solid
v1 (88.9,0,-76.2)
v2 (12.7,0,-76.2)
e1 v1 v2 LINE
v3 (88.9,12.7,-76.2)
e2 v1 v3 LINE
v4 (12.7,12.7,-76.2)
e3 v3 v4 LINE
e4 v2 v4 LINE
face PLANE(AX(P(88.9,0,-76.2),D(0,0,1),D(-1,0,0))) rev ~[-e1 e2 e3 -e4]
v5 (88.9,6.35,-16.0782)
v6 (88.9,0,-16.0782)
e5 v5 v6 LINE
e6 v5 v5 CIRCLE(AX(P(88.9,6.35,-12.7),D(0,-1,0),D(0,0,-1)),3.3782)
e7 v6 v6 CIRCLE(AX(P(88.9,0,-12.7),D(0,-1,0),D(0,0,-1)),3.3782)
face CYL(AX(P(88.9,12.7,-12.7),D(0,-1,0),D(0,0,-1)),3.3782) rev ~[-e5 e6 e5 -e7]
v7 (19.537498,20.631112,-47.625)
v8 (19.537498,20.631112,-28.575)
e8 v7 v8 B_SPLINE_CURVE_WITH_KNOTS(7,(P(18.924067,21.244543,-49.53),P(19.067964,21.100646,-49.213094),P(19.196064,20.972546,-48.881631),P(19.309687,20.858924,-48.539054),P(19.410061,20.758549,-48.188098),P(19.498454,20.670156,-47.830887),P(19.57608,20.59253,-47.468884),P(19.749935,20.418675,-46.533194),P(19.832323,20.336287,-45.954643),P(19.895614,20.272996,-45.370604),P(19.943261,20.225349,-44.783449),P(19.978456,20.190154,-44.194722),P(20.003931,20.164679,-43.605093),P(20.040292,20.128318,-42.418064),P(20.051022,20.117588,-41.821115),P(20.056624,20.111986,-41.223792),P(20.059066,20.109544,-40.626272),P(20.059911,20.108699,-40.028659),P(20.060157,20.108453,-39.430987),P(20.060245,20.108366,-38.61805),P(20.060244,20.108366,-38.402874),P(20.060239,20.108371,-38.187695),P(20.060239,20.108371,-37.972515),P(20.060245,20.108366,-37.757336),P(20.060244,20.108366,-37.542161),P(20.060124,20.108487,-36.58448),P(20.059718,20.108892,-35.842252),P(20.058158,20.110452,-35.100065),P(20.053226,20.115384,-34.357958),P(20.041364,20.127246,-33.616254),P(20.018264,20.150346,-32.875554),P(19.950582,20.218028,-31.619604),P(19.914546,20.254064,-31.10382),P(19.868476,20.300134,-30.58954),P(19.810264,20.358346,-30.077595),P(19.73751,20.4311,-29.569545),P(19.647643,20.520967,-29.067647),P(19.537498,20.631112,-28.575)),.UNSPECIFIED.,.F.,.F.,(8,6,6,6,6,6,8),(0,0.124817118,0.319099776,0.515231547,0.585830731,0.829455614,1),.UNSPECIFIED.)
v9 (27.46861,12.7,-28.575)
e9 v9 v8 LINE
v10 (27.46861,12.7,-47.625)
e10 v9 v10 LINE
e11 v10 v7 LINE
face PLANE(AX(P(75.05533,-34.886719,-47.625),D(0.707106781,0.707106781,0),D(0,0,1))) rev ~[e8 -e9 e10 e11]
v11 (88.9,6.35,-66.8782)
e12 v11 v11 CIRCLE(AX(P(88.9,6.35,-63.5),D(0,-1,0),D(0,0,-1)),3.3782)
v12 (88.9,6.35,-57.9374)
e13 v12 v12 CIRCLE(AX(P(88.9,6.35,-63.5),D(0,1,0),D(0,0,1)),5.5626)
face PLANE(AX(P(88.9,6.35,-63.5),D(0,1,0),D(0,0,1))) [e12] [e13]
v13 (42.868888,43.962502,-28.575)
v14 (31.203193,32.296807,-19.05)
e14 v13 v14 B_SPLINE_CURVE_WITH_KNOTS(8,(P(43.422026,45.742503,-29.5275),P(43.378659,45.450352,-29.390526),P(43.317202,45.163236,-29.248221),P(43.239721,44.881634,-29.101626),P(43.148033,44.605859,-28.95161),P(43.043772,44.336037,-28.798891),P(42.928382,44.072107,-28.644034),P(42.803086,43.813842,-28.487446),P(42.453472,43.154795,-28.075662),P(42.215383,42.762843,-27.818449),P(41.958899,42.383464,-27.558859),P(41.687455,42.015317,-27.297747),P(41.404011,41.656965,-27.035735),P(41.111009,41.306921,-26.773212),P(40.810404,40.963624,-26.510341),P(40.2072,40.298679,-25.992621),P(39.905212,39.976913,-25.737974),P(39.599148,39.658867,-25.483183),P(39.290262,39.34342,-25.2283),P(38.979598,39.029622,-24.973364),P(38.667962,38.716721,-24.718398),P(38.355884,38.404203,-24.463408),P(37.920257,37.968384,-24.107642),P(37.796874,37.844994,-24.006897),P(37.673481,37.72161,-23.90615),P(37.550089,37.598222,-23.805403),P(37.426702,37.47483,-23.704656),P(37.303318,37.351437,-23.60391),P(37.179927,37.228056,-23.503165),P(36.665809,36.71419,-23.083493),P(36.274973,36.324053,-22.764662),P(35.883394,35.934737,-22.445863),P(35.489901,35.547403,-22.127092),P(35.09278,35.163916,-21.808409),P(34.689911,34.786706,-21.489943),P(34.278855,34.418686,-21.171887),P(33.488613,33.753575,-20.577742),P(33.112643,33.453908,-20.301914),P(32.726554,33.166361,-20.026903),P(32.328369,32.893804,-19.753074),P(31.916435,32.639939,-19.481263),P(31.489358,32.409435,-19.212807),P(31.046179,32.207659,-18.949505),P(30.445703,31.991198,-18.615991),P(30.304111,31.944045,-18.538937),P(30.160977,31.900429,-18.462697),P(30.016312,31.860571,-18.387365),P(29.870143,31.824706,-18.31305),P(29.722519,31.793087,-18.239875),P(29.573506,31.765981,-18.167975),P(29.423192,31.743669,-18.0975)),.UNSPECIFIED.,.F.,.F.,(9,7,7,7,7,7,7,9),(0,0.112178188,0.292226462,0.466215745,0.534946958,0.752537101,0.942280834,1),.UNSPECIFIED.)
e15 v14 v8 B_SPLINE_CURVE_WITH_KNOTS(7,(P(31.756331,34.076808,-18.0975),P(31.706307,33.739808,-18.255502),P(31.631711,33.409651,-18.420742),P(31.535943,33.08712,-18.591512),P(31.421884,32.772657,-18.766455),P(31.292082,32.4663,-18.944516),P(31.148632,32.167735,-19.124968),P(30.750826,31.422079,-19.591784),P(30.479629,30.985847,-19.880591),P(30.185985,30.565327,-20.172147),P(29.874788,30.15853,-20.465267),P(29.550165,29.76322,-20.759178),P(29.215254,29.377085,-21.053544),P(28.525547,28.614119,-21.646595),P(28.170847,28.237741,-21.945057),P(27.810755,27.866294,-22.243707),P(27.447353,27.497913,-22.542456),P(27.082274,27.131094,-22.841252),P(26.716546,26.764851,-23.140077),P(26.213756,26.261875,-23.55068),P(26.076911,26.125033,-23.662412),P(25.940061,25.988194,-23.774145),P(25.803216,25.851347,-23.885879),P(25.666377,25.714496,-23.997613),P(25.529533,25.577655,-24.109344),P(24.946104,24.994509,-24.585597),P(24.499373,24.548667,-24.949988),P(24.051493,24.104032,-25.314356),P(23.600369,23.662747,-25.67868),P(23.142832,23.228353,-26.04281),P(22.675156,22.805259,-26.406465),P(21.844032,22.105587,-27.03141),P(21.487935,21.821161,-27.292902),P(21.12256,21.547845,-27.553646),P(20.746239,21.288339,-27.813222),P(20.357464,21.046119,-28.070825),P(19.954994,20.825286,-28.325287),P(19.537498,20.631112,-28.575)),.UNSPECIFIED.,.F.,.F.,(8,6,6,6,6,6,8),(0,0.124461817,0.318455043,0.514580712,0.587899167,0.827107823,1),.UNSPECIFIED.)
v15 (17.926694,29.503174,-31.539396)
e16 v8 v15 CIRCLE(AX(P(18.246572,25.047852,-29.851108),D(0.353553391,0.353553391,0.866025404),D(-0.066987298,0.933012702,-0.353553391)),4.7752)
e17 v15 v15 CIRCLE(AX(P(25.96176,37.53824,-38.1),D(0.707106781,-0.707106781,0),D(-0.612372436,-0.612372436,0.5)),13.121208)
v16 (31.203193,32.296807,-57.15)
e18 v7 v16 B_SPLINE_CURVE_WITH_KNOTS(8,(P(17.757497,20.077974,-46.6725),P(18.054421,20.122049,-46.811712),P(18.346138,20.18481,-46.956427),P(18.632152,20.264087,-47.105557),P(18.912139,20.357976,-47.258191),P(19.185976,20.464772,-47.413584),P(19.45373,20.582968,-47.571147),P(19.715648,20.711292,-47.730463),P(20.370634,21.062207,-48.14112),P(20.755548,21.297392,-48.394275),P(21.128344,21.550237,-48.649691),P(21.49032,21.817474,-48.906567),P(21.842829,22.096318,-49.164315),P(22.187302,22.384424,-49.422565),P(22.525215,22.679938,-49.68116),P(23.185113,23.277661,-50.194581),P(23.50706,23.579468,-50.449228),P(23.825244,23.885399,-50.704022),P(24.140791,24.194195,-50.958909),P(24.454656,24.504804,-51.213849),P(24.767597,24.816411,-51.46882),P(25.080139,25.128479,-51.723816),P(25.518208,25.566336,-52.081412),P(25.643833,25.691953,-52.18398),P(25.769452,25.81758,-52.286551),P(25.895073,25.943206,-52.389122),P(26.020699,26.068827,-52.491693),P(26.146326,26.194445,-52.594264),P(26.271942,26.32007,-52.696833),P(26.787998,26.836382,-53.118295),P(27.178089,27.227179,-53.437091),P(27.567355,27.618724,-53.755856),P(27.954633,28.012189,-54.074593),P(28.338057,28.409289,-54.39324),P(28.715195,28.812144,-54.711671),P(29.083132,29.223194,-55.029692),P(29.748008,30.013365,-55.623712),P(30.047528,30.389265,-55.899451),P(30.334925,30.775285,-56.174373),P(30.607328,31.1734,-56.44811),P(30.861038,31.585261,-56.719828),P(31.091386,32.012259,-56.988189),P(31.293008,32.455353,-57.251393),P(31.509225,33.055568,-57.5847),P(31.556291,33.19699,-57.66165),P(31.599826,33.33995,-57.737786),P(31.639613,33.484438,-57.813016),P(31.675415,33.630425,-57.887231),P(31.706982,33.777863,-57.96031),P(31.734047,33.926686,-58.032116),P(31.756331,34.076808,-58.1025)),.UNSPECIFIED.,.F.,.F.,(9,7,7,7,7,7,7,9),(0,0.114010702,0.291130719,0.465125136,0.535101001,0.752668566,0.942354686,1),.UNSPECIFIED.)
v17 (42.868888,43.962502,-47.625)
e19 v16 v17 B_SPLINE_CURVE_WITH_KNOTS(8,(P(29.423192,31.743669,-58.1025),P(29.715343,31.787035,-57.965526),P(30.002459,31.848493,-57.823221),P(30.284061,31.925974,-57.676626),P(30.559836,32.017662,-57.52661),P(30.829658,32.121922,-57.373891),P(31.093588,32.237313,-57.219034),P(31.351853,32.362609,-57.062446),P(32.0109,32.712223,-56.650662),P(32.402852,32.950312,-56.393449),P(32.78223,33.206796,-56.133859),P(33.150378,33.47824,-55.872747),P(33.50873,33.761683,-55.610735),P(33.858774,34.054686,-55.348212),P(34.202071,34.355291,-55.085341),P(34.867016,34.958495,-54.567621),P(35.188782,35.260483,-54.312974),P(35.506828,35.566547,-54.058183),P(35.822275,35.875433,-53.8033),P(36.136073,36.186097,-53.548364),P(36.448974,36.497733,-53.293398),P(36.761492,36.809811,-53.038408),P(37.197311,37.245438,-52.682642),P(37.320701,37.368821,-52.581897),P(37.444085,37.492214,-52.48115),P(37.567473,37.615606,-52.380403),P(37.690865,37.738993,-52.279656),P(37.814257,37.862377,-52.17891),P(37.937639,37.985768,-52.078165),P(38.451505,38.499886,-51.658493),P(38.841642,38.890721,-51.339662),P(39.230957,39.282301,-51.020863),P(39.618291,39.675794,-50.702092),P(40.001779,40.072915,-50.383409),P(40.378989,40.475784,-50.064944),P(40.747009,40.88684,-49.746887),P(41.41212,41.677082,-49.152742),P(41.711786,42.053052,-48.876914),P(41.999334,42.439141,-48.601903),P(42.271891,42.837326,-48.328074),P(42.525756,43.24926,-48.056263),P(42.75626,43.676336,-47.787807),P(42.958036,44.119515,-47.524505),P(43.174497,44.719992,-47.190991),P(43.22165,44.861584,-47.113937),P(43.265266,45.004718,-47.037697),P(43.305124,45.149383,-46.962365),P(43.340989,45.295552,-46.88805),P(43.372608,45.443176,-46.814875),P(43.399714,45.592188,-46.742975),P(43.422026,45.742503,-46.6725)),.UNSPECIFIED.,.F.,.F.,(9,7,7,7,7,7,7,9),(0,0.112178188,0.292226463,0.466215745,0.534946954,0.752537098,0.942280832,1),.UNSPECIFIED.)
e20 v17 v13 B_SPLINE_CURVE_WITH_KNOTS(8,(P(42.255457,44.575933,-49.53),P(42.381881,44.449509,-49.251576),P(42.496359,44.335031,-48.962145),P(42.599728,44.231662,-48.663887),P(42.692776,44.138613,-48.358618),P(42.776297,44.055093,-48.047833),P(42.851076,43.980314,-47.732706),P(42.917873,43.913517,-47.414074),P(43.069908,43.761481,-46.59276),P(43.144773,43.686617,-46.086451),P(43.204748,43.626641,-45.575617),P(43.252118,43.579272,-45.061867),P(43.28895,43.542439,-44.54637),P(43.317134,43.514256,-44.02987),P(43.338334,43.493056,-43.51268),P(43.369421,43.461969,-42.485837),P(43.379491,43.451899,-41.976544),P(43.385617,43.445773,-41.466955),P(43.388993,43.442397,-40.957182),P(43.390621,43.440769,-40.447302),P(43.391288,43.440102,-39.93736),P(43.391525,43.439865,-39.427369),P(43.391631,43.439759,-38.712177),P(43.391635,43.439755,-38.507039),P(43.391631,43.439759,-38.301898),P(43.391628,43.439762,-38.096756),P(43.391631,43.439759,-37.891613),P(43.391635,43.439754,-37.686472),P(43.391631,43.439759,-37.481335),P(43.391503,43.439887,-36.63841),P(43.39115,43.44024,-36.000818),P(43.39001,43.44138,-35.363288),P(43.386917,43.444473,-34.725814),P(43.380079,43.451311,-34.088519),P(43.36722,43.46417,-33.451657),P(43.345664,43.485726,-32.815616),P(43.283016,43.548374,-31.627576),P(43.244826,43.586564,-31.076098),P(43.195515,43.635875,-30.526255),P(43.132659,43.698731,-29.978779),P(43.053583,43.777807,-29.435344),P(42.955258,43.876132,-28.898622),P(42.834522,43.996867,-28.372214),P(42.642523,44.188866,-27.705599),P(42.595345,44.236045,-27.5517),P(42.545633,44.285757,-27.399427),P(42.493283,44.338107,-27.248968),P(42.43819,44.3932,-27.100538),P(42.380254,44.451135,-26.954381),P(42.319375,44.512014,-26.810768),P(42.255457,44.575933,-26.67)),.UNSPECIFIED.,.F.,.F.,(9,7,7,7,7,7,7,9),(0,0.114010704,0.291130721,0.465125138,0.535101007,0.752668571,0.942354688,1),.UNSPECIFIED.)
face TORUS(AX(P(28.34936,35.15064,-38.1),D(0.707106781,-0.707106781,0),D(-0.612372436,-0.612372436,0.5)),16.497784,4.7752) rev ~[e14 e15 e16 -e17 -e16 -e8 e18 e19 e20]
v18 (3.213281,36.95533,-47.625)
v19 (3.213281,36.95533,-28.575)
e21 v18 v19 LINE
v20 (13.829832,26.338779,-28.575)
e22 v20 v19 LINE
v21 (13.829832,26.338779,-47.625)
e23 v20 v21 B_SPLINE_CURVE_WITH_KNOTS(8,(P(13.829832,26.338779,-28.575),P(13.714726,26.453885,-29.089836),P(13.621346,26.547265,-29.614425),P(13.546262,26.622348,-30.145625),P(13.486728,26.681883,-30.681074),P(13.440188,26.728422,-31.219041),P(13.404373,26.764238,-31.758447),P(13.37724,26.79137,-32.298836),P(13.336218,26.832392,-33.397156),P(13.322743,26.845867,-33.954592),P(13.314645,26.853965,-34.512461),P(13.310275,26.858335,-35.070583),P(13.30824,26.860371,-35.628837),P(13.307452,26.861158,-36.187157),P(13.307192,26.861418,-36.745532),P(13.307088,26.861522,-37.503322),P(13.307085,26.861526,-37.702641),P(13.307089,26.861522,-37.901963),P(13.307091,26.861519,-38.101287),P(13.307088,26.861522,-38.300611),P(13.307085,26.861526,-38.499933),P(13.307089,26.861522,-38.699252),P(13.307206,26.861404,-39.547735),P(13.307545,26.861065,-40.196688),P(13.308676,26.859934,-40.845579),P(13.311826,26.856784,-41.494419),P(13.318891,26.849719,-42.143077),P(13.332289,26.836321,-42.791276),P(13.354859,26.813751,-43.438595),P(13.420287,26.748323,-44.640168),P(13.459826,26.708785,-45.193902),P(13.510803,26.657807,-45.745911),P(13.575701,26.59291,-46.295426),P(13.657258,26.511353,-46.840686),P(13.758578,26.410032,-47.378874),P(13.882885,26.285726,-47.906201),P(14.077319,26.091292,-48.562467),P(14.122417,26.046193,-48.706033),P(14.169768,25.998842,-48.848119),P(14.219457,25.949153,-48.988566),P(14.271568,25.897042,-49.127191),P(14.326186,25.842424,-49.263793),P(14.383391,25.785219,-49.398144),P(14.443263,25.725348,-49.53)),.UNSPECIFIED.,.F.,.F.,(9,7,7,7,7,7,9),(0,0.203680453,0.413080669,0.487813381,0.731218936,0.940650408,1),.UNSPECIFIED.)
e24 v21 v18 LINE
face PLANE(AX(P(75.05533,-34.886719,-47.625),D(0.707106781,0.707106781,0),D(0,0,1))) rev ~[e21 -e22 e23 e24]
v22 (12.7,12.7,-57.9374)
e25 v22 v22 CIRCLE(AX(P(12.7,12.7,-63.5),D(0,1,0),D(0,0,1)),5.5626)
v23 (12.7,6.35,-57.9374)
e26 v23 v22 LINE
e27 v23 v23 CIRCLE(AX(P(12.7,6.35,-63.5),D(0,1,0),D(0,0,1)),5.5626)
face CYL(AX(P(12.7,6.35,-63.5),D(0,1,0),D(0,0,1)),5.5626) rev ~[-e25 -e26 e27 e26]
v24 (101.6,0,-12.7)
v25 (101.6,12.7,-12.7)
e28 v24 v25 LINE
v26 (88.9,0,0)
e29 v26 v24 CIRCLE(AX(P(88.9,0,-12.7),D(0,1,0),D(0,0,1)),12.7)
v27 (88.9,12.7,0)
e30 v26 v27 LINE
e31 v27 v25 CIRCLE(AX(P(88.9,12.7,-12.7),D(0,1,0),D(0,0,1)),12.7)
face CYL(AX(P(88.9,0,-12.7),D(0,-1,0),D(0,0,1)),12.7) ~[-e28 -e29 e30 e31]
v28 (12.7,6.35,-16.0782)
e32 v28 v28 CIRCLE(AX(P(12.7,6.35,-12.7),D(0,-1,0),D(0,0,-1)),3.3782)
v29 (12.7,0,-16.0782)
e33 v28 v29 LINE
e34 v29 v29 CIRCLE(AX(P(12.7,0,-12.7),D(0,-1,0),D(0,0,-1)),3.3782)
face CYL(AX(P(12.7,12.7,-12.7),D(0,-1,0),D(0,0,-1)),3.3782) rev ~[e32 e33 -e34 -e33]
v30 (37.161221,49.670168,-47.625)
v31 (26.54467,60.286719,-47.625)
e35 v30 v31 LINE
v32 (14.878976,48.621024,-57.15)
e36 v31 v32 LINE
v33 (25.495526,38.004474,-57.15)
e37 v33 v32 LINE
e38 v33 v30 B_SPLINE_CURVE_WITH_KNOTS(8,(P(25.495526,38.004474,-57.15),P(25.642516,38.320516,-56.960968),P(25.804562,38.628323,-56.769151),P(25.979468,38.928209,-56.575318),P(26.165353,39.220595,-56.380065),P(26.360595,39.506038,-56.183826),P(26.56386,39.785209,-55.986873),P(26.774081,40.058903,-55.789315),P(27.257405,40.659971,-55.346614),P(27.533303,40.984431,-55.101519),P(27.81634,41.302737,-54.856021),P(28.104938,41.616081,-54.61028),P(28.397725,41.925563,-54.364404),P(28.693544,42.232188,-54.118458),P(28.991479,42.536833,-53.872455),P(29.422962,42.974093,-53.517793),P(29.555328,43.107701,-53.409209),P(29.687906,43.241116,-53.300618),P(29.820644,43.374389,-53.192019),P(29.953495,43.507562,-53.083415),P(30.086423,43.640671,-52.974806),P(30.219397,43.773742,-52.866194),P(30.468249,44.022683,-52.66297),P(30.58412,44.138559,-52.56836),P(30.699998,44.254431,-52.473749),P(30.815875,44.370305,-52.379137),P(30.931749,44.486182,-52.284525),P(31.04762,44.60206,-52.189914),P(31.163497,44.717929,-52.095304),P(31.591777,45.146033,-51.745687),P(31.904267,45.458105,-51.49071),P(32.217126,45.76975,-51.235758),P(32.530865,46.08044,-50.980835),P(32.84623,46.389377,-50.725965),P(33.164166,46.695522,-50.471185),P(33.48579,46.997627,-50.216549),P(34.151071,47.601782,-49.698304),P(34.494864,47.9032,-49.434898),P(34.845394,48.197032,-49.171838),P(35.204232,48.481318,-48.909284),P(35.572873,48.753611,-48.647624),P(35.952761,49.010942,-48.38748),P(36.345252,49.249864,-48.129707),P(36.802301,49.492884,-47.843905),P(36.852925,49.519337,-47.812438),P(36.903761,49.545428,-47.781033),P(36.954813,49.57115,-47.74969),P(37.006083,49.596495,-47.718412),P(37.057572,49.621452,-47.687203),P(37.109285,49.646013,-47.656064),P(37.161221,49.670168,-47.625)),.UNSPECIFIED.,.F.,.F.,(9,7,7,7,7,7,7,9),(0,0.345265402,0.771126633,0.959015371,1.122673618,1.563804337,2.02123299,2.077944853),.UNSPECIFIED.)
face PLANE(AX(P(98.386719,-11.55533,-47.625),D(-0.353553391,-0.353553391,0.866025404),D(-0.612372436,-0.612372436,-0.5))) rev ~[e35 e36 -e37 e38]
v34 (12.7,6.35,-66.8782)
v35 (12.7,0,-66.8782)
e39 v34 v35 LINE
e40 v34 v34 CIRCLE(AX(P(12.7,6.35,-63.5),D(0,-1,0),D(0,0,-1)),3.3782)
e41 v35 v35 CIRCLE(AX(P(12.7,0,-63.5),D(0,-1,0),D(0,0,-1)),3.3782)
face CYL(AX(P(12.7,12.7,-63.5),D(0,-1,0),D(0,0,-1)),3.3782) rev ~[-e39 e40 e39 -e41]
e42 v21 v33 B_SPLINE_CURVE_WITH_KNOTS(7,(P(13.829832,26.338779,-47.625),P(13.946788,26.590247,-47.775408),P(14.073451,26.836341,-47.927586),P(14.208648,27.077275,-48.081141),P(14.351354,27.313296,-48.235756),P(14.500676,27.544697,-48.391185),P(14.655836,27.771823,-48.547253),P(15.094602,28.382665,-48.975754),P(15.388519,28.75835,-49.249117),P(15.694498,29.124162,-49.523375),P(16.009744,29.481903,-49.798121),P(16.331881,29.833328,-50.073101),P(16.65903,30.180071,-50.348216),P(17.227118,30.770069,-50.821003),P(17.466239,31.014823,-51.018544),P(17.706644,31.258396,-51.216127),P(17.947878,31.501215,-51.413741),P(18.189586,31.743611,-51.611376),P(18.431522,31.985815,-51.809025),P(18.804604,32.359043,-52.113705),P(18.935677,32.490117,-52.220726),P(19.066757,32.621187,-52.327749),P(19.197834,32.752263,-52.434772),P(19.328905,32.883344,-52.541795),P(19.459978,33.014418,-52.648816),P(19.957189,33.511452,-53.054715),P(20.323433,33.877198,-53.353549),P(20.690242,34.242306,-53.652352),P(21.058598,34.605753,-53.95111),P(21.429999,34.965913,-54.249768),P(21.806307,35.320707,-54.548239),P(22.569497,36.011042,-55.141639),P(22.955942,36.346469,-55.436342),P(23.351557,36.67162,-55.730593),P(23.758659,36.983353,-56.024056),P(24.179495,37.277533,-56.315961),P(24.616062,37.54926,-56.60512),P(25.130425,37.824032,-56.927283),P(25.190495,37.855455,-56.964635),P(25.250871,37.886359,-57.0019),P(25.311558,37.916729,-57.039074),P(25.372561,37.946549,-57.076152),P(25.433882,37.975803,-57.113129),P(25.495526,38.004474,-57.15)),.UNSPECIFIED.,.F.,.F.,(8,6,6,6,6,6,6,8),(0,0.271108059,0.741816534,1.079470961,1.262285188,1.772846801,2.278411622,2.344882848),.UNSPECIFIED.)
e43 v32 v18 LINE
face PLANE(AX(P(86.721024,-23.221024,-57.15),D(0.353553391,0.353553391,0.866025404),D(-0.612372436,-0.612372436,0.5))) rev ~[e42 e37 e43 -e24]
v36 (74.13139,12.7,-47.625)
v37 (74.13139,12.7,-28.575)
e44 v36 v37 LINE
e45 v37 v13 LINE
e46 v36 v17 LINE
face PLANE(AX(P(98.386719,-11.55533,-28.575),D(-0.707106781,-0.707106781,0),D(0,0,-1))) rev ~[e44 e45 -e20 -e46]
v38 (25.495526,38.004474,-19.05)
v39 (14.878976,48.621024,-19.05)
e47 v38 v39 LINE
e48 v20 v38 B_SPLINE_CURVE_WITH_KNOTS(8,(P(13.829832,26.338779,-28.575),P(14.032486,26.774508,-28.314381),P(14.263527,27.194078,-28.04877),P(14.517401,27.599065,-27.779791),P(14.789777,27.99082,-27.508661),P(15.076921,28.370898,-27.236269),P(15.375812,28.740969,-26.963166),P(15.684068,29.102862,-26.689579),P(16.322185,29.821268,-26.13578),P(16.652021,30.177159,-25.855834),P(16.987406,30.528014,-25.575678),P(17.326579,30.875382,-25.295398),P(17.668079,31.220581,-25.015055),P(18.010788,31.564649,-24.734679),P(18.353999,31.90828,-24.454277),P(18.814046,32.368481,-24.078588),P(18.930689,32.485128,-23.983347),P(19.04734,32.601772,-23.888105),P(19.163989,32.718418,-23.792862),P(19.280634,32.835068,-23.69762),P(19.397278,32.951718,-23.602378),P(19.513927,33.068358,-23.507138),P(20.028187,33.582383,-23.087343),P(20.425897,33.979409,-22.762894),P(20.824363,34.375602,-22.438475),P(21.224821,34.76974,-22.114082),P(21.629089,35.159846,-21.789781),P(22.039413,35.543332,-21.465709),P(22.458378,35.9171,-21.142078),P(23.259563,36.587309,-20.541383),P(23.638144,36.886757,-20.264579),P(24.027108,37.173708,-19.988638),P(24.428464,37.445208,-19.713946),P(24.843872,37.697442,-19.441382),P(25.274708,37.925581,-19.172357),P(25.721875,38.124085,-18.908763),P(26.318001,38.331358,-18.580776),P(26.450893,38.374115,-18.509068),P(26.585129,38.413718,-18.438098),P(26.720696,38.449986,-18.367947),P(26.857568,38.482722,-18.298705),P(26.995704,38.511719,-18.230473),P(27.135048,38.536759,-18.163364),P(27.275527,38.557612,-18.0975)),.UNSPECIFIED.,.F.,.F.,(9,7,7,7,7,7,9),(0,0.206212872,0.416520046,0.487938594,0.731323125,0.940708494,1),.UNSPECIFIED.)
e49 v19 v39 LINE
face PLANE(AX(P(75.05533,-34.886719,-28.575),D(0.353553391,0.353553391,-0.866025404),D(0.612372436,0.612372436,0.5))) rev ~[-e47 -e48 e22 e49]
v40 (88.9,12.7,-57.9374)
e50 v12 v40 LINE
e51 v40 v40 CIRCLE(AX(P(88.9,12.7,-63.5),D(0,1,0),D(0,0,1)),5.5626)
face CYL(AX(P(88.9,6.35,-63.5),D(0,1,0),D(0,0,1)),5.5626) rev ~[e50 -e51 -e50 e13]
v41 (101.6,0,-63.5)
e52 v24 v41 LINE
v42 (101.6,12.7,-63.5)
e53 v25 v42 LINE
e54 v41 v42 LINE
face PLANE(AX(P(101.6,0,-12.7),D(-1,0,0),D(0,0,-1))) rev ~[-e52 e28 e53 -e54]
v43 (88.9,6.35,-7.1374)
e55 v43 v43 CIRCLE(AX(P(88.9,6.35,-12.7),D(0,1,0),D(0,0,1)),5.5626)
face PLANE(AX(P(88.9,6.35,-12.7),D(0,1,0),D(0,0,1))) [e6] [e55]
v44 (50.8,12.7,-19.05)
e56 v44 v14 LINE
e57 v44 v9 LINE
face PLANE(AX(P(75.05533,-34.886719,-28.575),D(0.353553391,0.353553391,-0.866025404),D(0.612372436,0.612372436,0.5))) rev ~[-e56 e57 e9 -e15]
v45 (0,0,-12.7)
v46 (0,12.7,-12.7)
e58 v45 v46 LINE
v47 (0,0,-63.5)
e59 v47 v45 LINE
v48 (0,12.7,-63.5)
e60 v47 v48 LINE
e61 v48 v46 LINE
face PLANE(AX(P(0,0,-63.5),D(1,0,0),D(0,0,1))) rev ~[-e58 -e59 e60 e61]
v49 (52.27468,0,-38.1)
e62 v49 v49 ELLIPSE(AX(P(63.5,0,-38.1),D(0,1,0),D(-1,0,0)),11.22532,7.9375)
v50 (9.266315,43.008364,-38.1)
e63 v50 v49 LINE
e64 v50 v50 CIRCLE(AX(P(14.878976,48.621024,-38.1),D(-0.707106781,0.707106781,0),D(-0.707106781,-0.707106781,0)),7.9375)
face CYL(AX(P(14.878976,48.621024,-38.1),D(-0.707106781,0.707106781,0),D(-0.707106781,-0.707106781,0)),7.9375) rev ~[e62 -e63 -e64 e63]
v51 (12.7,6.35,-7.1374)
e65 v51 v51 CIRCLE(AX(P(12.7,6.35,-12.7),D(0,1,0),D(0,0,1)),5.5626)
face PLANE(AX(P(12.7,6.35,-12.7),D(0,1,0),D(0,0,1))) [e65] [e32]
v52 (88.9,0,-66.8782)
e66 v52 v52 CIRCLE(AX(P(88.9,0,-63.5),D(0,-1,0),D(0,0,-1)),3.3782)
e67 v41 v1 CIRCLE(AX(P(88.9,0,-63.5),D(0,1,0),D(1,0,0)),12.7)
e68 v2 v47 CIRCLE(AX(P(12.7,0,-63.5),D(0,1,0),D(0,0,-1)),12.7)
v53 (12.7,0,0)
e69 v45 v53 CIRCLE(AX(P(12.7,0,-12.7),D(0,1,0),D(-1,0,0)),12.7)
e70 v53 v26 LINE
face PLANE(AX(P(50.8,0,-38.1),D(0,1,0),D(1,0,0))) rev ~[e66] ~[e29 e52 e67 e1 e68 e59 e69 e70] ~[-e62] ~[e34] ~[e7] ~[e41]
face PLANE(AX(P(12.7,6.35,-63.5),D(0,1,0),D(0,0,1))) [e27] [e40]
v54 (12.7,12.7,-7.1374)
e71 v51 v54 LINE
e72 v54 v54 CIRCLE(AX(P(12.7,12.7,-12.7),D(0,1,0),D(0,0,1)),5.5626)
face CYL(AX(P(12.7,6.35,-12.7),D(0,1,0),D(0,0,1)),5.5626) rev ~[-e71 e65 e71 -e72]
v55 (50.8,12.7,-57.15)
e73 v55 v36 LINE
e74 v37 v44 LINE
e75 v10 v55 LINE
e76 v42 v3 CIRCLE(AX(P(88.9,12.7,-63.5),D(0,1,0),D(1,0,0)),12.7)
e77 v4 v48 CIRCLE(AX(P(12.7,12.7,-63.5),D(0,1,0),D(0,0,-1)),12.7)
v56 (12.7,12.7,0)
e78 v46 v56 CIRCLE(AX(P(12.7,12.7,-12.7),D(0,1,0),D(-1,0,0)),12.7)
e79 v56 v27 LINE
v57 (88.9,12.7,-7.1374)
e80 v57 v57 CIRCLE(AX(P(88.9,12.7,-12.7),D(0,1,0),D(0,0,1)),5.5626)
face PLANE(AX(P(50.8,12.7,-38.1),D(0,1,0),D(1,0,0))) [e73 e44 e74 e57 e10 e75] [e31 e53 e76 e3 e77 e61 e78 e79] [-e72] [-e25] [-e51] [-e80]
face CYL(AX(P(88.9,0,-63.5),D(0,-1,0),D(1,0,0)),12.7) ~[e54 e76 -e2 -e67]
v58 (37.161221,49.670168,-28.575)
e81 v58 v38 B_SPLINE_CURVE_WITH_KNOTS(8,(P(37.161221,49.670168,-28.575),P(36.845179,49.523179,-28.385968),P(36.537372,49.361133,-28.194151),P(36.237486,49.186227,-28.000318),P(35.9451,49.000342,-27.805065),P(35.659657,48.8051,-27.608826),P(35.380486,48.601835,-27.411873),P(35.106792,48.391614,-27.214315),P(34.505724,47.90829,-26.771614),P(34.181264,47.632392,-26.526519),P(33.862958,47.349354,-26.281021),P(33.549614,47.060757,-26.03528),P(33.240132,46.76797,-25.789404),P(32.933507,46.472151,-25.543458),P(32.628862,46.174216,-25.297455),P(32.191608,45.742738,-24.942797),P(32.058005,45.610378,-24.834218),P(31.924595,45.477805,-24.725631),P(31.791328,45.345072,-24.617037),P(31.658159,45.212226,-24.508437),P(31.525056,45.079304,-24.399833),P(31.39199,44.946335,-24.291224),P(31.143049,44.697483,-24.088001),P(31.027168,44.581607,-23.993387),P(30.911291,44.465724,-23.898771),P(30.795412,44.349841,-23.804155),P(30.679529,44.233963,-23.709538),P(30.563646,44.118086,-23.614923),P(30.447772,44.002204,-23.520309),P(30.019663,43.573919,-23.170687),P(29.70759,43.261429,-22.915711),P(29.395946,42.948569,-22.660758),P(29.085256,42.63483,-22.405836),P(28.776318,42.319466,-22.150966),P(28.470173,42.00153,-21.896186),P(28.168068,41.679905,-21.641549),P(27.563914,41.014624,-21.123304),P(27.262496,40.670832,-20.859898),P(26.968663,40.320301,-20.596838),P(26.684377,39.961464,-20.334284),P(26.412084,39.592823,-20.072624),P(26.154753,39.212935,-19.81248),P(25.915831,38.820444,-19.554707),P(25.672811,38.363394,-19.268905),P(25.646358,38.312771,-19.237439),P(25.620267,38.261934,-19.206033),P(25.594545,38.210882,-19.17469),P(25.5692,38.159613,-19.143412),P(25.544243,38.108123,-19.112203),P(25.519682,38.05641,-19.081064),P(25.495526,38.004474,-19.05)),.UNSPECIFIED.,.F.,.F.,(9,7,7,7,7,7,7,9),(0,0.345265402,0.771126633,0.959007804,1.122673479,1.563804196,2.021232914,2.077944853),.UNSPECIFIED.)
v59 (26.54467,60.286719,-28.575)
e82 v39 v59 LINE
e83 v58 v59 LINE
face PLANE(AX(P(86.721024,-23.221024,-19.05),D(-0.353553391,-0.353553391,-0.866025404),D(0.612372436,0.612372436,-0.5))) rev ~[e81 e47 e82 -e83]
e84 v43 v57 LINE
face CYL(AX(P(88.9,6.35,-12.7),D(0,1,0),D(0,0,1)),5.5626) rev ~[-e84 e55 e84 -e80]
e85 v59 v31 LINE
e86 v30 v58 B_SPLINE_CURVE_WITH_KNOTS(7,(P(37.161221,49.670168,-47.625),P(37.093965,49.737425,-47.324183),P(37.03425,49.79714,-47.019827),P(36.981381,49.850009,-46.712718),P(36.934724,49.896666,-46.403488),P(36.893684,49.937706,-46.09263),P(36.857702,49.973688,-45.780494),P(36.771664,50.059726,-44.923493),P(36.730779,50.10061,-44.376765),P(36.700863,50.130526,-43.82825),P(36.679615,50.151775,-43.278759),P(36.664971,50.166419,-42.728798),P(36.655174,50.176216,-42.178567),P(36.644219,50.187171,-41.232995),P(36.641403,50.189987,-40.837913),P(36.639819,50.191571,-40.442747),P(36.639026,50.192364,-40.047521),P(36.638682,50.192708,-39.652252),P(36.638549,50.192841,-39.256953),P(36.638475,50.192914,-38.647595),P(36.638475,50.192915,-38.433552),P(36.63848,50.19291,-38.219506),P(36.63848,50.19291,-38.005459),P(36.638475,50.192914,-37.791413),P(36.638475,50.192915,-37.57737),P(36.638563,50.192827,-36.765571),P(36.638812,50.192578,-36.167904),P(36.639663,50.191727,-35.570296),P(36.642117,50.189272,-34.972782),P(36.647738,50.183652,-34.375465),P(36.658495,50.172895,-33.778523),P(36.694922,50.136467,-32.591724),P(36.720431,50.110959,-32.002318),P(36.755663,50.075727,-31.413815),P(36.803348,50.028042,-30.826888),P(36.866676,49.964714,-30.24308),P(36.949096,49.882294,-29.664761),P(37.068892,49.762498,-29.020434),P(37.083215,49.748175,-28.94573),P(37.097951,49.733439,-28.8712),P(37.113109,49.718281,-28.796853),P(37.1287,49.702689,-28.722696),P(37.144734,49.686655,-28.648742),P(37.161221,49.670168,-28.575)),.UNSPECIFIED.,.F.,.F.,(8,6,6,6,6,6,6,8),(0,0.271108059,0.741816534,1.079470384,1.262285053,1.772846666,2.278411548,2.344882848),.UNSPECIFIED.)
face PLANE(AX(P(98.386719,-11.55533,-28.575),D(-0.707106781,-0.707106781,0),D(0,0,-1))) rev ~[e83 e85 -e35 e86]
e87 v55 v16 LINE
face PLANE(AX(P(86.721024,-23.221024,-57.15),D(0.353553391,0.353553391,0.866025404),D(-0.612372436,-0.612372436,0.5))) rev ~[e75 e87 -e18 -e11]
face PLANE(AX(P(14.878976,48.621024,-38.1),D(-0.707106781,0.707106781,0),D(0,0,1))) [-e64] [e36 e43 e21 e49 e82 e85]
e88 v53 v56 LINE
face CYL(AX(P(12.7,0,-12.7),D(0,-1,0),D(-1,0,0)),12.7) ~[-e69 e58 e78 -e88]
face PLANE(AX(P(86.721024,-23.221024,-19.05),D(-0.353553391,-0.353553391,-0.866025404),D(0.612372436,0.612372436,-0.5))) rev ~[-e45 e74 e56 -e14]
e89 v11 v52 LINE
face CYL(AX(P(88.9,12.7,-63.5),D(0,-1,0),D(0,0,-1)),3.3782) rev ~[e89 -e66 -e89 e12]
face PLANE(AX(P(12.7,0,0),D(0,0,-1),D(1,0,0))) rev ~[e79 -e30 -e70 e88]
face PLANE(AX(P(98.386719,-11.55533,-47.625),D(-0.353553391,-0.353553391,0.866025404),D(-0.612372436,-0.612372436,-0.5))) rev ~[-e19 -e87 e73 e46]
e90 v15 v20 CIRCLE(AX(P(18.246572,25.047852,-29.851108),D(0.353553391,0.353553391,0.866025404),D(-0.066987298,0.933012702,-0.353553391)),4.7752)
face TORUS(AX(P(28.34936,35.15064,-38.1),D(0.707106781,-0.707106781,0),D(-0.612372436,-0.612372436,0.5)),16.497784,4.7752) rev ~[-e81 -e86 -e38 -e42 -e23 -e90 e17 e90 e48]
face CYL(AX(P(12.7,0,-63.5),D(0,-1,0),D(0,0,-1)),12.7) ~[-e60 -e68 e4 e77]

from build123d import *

# Parameters (mm, degrees)
BOSS_EXTRUDE1_DEPTH                                 = 12.7
CBORE_FOR_00_BINDING_HEAD_MACHINE_SCREW_D           = 6.7564
CBORE_FOR_00_BINDING_HEAD_MACHINE_SCREW_CBORE_D     = 11.1252
CBORE_FOR_00_BINDING_HEAD_MACHINE_SCREW_CBORE_DEPTH = 6.35
BOSS_EXTRUDE2_DEPTH                                 = 50.8
BOSS_EXTRUDE2_DEPTH_BACK                            = 50.8
SKETCH10_R                                          = 4.7752
SKETCH11_R                                          = 7.9375
CUT_EXTRUDE1_DEPTH                                  = 148.399953238


with BuildPart() as part:
    # Sketch1 → Boss-Extrude1 (new body)
    with BuildSketch(Plane(origin=(0, 0, 0), x_dir=(1, 0, 0), z_dir=(0, 1, 0))):
        with BuildLine():
            Line((12.7, 0), (88.9, 0))
            ThreePointArc((88.9, 0), (97.880256121, 3.719743879), (101.6, 12.7))
            Line((101.6, 12.7), (101.6, 63.5))
            ThreePointArc((101.6, 63.5), (97.880256121, 72.480256121), (88.9, 76.2))
            Line((88.9, 76.2), (12.7, 76.2))
            ThreePointArc((12.7, 76.2), (3.719743879, 72.480256121), (0, 63.5))
            Line((0, 63.5), (0, 12.7))
            ThreePointArc((0, 12.7), (3.719743879, 3.719743879), (12.7, 0))
        make_face()
    extrude(amount=BOSS_EXTRUDE1_DEPTH)

    # CBORE for #00 Binding Head Machine Screw1 (through all)
    with Locations(Plane(origin=(12.7, 12.7, -12.7), x_dir=(0, 0, 1), z_dir=(0, 1, 0))):
        with Locations((0, 0), (0, 76.2), (-50.8, 76.2), (-50.8, 0)):
            CounterBoreHole(CBORE_FOR_00_BINDING_HEAD_MACHINE_SCREW_D / 2, CBORE_FOR_00_BINDING_HEAD_MACHINE_SCREW_CBORE_D / 2, CBORE_FOR_00_BINDING_HEAD_MACHINE_SCREW_CBORE_DEPTH)


with BuildPart() as body_2:
    # Sketch7 → Boss-Extrude2 (new, two sides: drawn at the far end of the back side and taken through both)
    with BuildSketch(Plane(origin=(19.05, -19.05, 0), x_dir=(0, 0, 1), z_dir=(-0.7071067811865488, 0.7071067811865464, 0)).offset(-BOSS_EXTRUDE2_DEPTH_BACK)):
        Polygon((-57.15, 44.901280605), (-47.625, 28.403496663), (-28.575, 28.403496663), (-19.05, 44.901280605), (-28.575, 61.399064547), (-47.625, 61.399064547), align=None)
    extrude(amount=BOSS_EXTRUDE2_DEPTH + BOSS_EXTRUDE2_DEPTH_BACK)

    # SurfaceCut16: cut with a surface, the side behind it stays
    # Surface-Offset1: a surface, a copy of 1 face of the part
    surface_offset1_1 = part.part.faces().sort_by_distance((50.8, 0, -38.1))[0]
    split(bisect_by=surface_offset1_1, keep=Keep.BOTTOM)

    # Sketch10 → Cut-Revolve1 (revolve, cut)
    with BuildSketch(Plane(origin=(0, 0, -38.1), x_dir=(-1, 0, 0), z_dir=(0, 0, -1)), mode=Mode.PRIVATE) as cut_revolve1_sk:
        with Locations((-40.015054597, 46.816335203)):
            Circle(SKETCH10_R)
    revolve(cut_revolve1_sk.sketch.rotate(Axis((14.878975516, 48.621024484, -38.1), (0.7071067811865499, -0.7071067811865451, 0)), 150.000000006), axis=Axis((14.878975516, 48.621024484, -38.1), (0.7071067811865499, -0.7071067811865451, 0)), mode=Mode.SUBTRACT)


with BuildPart() as cut_extrude1_tool:
    # Sketch11 → Cut-Extrude1 (new, through all)
    with BuildSketch(Plane(origin=(-16.871024484, 16.871024484, 0), x_dir=(0, 0, 1), z_dir=(-0.7071067811865488, 0.7071067811865462, 0))):
        with Locations(Location((-38.1, 44.901280605, 0), (0, 0, 270))):
            Circle(SKETCH11_R)
    extrude(amount=-CUT_EXTRUDE1_DEPTH)


with BuildPart() as part_1:
    add(part.part)

    # Cut-Extrude1: cut by cut_extrude1_tool
    add(cut_extrude1_tool.part, mode=Mode.SUBTRACT)


with BuildPart() as body_2_1:
    add(body_2.part)

    # Cut-Extrude1: cut by cut_extrude1_tool
    add(cut_extrude1_tool.part, mode=Mode.SUBTRACT)


with BuildPart() as part_2:
    add(part_1.part)

    # Combine1: union body 2
    add(body_2_1.part)


solid = part_2.part
